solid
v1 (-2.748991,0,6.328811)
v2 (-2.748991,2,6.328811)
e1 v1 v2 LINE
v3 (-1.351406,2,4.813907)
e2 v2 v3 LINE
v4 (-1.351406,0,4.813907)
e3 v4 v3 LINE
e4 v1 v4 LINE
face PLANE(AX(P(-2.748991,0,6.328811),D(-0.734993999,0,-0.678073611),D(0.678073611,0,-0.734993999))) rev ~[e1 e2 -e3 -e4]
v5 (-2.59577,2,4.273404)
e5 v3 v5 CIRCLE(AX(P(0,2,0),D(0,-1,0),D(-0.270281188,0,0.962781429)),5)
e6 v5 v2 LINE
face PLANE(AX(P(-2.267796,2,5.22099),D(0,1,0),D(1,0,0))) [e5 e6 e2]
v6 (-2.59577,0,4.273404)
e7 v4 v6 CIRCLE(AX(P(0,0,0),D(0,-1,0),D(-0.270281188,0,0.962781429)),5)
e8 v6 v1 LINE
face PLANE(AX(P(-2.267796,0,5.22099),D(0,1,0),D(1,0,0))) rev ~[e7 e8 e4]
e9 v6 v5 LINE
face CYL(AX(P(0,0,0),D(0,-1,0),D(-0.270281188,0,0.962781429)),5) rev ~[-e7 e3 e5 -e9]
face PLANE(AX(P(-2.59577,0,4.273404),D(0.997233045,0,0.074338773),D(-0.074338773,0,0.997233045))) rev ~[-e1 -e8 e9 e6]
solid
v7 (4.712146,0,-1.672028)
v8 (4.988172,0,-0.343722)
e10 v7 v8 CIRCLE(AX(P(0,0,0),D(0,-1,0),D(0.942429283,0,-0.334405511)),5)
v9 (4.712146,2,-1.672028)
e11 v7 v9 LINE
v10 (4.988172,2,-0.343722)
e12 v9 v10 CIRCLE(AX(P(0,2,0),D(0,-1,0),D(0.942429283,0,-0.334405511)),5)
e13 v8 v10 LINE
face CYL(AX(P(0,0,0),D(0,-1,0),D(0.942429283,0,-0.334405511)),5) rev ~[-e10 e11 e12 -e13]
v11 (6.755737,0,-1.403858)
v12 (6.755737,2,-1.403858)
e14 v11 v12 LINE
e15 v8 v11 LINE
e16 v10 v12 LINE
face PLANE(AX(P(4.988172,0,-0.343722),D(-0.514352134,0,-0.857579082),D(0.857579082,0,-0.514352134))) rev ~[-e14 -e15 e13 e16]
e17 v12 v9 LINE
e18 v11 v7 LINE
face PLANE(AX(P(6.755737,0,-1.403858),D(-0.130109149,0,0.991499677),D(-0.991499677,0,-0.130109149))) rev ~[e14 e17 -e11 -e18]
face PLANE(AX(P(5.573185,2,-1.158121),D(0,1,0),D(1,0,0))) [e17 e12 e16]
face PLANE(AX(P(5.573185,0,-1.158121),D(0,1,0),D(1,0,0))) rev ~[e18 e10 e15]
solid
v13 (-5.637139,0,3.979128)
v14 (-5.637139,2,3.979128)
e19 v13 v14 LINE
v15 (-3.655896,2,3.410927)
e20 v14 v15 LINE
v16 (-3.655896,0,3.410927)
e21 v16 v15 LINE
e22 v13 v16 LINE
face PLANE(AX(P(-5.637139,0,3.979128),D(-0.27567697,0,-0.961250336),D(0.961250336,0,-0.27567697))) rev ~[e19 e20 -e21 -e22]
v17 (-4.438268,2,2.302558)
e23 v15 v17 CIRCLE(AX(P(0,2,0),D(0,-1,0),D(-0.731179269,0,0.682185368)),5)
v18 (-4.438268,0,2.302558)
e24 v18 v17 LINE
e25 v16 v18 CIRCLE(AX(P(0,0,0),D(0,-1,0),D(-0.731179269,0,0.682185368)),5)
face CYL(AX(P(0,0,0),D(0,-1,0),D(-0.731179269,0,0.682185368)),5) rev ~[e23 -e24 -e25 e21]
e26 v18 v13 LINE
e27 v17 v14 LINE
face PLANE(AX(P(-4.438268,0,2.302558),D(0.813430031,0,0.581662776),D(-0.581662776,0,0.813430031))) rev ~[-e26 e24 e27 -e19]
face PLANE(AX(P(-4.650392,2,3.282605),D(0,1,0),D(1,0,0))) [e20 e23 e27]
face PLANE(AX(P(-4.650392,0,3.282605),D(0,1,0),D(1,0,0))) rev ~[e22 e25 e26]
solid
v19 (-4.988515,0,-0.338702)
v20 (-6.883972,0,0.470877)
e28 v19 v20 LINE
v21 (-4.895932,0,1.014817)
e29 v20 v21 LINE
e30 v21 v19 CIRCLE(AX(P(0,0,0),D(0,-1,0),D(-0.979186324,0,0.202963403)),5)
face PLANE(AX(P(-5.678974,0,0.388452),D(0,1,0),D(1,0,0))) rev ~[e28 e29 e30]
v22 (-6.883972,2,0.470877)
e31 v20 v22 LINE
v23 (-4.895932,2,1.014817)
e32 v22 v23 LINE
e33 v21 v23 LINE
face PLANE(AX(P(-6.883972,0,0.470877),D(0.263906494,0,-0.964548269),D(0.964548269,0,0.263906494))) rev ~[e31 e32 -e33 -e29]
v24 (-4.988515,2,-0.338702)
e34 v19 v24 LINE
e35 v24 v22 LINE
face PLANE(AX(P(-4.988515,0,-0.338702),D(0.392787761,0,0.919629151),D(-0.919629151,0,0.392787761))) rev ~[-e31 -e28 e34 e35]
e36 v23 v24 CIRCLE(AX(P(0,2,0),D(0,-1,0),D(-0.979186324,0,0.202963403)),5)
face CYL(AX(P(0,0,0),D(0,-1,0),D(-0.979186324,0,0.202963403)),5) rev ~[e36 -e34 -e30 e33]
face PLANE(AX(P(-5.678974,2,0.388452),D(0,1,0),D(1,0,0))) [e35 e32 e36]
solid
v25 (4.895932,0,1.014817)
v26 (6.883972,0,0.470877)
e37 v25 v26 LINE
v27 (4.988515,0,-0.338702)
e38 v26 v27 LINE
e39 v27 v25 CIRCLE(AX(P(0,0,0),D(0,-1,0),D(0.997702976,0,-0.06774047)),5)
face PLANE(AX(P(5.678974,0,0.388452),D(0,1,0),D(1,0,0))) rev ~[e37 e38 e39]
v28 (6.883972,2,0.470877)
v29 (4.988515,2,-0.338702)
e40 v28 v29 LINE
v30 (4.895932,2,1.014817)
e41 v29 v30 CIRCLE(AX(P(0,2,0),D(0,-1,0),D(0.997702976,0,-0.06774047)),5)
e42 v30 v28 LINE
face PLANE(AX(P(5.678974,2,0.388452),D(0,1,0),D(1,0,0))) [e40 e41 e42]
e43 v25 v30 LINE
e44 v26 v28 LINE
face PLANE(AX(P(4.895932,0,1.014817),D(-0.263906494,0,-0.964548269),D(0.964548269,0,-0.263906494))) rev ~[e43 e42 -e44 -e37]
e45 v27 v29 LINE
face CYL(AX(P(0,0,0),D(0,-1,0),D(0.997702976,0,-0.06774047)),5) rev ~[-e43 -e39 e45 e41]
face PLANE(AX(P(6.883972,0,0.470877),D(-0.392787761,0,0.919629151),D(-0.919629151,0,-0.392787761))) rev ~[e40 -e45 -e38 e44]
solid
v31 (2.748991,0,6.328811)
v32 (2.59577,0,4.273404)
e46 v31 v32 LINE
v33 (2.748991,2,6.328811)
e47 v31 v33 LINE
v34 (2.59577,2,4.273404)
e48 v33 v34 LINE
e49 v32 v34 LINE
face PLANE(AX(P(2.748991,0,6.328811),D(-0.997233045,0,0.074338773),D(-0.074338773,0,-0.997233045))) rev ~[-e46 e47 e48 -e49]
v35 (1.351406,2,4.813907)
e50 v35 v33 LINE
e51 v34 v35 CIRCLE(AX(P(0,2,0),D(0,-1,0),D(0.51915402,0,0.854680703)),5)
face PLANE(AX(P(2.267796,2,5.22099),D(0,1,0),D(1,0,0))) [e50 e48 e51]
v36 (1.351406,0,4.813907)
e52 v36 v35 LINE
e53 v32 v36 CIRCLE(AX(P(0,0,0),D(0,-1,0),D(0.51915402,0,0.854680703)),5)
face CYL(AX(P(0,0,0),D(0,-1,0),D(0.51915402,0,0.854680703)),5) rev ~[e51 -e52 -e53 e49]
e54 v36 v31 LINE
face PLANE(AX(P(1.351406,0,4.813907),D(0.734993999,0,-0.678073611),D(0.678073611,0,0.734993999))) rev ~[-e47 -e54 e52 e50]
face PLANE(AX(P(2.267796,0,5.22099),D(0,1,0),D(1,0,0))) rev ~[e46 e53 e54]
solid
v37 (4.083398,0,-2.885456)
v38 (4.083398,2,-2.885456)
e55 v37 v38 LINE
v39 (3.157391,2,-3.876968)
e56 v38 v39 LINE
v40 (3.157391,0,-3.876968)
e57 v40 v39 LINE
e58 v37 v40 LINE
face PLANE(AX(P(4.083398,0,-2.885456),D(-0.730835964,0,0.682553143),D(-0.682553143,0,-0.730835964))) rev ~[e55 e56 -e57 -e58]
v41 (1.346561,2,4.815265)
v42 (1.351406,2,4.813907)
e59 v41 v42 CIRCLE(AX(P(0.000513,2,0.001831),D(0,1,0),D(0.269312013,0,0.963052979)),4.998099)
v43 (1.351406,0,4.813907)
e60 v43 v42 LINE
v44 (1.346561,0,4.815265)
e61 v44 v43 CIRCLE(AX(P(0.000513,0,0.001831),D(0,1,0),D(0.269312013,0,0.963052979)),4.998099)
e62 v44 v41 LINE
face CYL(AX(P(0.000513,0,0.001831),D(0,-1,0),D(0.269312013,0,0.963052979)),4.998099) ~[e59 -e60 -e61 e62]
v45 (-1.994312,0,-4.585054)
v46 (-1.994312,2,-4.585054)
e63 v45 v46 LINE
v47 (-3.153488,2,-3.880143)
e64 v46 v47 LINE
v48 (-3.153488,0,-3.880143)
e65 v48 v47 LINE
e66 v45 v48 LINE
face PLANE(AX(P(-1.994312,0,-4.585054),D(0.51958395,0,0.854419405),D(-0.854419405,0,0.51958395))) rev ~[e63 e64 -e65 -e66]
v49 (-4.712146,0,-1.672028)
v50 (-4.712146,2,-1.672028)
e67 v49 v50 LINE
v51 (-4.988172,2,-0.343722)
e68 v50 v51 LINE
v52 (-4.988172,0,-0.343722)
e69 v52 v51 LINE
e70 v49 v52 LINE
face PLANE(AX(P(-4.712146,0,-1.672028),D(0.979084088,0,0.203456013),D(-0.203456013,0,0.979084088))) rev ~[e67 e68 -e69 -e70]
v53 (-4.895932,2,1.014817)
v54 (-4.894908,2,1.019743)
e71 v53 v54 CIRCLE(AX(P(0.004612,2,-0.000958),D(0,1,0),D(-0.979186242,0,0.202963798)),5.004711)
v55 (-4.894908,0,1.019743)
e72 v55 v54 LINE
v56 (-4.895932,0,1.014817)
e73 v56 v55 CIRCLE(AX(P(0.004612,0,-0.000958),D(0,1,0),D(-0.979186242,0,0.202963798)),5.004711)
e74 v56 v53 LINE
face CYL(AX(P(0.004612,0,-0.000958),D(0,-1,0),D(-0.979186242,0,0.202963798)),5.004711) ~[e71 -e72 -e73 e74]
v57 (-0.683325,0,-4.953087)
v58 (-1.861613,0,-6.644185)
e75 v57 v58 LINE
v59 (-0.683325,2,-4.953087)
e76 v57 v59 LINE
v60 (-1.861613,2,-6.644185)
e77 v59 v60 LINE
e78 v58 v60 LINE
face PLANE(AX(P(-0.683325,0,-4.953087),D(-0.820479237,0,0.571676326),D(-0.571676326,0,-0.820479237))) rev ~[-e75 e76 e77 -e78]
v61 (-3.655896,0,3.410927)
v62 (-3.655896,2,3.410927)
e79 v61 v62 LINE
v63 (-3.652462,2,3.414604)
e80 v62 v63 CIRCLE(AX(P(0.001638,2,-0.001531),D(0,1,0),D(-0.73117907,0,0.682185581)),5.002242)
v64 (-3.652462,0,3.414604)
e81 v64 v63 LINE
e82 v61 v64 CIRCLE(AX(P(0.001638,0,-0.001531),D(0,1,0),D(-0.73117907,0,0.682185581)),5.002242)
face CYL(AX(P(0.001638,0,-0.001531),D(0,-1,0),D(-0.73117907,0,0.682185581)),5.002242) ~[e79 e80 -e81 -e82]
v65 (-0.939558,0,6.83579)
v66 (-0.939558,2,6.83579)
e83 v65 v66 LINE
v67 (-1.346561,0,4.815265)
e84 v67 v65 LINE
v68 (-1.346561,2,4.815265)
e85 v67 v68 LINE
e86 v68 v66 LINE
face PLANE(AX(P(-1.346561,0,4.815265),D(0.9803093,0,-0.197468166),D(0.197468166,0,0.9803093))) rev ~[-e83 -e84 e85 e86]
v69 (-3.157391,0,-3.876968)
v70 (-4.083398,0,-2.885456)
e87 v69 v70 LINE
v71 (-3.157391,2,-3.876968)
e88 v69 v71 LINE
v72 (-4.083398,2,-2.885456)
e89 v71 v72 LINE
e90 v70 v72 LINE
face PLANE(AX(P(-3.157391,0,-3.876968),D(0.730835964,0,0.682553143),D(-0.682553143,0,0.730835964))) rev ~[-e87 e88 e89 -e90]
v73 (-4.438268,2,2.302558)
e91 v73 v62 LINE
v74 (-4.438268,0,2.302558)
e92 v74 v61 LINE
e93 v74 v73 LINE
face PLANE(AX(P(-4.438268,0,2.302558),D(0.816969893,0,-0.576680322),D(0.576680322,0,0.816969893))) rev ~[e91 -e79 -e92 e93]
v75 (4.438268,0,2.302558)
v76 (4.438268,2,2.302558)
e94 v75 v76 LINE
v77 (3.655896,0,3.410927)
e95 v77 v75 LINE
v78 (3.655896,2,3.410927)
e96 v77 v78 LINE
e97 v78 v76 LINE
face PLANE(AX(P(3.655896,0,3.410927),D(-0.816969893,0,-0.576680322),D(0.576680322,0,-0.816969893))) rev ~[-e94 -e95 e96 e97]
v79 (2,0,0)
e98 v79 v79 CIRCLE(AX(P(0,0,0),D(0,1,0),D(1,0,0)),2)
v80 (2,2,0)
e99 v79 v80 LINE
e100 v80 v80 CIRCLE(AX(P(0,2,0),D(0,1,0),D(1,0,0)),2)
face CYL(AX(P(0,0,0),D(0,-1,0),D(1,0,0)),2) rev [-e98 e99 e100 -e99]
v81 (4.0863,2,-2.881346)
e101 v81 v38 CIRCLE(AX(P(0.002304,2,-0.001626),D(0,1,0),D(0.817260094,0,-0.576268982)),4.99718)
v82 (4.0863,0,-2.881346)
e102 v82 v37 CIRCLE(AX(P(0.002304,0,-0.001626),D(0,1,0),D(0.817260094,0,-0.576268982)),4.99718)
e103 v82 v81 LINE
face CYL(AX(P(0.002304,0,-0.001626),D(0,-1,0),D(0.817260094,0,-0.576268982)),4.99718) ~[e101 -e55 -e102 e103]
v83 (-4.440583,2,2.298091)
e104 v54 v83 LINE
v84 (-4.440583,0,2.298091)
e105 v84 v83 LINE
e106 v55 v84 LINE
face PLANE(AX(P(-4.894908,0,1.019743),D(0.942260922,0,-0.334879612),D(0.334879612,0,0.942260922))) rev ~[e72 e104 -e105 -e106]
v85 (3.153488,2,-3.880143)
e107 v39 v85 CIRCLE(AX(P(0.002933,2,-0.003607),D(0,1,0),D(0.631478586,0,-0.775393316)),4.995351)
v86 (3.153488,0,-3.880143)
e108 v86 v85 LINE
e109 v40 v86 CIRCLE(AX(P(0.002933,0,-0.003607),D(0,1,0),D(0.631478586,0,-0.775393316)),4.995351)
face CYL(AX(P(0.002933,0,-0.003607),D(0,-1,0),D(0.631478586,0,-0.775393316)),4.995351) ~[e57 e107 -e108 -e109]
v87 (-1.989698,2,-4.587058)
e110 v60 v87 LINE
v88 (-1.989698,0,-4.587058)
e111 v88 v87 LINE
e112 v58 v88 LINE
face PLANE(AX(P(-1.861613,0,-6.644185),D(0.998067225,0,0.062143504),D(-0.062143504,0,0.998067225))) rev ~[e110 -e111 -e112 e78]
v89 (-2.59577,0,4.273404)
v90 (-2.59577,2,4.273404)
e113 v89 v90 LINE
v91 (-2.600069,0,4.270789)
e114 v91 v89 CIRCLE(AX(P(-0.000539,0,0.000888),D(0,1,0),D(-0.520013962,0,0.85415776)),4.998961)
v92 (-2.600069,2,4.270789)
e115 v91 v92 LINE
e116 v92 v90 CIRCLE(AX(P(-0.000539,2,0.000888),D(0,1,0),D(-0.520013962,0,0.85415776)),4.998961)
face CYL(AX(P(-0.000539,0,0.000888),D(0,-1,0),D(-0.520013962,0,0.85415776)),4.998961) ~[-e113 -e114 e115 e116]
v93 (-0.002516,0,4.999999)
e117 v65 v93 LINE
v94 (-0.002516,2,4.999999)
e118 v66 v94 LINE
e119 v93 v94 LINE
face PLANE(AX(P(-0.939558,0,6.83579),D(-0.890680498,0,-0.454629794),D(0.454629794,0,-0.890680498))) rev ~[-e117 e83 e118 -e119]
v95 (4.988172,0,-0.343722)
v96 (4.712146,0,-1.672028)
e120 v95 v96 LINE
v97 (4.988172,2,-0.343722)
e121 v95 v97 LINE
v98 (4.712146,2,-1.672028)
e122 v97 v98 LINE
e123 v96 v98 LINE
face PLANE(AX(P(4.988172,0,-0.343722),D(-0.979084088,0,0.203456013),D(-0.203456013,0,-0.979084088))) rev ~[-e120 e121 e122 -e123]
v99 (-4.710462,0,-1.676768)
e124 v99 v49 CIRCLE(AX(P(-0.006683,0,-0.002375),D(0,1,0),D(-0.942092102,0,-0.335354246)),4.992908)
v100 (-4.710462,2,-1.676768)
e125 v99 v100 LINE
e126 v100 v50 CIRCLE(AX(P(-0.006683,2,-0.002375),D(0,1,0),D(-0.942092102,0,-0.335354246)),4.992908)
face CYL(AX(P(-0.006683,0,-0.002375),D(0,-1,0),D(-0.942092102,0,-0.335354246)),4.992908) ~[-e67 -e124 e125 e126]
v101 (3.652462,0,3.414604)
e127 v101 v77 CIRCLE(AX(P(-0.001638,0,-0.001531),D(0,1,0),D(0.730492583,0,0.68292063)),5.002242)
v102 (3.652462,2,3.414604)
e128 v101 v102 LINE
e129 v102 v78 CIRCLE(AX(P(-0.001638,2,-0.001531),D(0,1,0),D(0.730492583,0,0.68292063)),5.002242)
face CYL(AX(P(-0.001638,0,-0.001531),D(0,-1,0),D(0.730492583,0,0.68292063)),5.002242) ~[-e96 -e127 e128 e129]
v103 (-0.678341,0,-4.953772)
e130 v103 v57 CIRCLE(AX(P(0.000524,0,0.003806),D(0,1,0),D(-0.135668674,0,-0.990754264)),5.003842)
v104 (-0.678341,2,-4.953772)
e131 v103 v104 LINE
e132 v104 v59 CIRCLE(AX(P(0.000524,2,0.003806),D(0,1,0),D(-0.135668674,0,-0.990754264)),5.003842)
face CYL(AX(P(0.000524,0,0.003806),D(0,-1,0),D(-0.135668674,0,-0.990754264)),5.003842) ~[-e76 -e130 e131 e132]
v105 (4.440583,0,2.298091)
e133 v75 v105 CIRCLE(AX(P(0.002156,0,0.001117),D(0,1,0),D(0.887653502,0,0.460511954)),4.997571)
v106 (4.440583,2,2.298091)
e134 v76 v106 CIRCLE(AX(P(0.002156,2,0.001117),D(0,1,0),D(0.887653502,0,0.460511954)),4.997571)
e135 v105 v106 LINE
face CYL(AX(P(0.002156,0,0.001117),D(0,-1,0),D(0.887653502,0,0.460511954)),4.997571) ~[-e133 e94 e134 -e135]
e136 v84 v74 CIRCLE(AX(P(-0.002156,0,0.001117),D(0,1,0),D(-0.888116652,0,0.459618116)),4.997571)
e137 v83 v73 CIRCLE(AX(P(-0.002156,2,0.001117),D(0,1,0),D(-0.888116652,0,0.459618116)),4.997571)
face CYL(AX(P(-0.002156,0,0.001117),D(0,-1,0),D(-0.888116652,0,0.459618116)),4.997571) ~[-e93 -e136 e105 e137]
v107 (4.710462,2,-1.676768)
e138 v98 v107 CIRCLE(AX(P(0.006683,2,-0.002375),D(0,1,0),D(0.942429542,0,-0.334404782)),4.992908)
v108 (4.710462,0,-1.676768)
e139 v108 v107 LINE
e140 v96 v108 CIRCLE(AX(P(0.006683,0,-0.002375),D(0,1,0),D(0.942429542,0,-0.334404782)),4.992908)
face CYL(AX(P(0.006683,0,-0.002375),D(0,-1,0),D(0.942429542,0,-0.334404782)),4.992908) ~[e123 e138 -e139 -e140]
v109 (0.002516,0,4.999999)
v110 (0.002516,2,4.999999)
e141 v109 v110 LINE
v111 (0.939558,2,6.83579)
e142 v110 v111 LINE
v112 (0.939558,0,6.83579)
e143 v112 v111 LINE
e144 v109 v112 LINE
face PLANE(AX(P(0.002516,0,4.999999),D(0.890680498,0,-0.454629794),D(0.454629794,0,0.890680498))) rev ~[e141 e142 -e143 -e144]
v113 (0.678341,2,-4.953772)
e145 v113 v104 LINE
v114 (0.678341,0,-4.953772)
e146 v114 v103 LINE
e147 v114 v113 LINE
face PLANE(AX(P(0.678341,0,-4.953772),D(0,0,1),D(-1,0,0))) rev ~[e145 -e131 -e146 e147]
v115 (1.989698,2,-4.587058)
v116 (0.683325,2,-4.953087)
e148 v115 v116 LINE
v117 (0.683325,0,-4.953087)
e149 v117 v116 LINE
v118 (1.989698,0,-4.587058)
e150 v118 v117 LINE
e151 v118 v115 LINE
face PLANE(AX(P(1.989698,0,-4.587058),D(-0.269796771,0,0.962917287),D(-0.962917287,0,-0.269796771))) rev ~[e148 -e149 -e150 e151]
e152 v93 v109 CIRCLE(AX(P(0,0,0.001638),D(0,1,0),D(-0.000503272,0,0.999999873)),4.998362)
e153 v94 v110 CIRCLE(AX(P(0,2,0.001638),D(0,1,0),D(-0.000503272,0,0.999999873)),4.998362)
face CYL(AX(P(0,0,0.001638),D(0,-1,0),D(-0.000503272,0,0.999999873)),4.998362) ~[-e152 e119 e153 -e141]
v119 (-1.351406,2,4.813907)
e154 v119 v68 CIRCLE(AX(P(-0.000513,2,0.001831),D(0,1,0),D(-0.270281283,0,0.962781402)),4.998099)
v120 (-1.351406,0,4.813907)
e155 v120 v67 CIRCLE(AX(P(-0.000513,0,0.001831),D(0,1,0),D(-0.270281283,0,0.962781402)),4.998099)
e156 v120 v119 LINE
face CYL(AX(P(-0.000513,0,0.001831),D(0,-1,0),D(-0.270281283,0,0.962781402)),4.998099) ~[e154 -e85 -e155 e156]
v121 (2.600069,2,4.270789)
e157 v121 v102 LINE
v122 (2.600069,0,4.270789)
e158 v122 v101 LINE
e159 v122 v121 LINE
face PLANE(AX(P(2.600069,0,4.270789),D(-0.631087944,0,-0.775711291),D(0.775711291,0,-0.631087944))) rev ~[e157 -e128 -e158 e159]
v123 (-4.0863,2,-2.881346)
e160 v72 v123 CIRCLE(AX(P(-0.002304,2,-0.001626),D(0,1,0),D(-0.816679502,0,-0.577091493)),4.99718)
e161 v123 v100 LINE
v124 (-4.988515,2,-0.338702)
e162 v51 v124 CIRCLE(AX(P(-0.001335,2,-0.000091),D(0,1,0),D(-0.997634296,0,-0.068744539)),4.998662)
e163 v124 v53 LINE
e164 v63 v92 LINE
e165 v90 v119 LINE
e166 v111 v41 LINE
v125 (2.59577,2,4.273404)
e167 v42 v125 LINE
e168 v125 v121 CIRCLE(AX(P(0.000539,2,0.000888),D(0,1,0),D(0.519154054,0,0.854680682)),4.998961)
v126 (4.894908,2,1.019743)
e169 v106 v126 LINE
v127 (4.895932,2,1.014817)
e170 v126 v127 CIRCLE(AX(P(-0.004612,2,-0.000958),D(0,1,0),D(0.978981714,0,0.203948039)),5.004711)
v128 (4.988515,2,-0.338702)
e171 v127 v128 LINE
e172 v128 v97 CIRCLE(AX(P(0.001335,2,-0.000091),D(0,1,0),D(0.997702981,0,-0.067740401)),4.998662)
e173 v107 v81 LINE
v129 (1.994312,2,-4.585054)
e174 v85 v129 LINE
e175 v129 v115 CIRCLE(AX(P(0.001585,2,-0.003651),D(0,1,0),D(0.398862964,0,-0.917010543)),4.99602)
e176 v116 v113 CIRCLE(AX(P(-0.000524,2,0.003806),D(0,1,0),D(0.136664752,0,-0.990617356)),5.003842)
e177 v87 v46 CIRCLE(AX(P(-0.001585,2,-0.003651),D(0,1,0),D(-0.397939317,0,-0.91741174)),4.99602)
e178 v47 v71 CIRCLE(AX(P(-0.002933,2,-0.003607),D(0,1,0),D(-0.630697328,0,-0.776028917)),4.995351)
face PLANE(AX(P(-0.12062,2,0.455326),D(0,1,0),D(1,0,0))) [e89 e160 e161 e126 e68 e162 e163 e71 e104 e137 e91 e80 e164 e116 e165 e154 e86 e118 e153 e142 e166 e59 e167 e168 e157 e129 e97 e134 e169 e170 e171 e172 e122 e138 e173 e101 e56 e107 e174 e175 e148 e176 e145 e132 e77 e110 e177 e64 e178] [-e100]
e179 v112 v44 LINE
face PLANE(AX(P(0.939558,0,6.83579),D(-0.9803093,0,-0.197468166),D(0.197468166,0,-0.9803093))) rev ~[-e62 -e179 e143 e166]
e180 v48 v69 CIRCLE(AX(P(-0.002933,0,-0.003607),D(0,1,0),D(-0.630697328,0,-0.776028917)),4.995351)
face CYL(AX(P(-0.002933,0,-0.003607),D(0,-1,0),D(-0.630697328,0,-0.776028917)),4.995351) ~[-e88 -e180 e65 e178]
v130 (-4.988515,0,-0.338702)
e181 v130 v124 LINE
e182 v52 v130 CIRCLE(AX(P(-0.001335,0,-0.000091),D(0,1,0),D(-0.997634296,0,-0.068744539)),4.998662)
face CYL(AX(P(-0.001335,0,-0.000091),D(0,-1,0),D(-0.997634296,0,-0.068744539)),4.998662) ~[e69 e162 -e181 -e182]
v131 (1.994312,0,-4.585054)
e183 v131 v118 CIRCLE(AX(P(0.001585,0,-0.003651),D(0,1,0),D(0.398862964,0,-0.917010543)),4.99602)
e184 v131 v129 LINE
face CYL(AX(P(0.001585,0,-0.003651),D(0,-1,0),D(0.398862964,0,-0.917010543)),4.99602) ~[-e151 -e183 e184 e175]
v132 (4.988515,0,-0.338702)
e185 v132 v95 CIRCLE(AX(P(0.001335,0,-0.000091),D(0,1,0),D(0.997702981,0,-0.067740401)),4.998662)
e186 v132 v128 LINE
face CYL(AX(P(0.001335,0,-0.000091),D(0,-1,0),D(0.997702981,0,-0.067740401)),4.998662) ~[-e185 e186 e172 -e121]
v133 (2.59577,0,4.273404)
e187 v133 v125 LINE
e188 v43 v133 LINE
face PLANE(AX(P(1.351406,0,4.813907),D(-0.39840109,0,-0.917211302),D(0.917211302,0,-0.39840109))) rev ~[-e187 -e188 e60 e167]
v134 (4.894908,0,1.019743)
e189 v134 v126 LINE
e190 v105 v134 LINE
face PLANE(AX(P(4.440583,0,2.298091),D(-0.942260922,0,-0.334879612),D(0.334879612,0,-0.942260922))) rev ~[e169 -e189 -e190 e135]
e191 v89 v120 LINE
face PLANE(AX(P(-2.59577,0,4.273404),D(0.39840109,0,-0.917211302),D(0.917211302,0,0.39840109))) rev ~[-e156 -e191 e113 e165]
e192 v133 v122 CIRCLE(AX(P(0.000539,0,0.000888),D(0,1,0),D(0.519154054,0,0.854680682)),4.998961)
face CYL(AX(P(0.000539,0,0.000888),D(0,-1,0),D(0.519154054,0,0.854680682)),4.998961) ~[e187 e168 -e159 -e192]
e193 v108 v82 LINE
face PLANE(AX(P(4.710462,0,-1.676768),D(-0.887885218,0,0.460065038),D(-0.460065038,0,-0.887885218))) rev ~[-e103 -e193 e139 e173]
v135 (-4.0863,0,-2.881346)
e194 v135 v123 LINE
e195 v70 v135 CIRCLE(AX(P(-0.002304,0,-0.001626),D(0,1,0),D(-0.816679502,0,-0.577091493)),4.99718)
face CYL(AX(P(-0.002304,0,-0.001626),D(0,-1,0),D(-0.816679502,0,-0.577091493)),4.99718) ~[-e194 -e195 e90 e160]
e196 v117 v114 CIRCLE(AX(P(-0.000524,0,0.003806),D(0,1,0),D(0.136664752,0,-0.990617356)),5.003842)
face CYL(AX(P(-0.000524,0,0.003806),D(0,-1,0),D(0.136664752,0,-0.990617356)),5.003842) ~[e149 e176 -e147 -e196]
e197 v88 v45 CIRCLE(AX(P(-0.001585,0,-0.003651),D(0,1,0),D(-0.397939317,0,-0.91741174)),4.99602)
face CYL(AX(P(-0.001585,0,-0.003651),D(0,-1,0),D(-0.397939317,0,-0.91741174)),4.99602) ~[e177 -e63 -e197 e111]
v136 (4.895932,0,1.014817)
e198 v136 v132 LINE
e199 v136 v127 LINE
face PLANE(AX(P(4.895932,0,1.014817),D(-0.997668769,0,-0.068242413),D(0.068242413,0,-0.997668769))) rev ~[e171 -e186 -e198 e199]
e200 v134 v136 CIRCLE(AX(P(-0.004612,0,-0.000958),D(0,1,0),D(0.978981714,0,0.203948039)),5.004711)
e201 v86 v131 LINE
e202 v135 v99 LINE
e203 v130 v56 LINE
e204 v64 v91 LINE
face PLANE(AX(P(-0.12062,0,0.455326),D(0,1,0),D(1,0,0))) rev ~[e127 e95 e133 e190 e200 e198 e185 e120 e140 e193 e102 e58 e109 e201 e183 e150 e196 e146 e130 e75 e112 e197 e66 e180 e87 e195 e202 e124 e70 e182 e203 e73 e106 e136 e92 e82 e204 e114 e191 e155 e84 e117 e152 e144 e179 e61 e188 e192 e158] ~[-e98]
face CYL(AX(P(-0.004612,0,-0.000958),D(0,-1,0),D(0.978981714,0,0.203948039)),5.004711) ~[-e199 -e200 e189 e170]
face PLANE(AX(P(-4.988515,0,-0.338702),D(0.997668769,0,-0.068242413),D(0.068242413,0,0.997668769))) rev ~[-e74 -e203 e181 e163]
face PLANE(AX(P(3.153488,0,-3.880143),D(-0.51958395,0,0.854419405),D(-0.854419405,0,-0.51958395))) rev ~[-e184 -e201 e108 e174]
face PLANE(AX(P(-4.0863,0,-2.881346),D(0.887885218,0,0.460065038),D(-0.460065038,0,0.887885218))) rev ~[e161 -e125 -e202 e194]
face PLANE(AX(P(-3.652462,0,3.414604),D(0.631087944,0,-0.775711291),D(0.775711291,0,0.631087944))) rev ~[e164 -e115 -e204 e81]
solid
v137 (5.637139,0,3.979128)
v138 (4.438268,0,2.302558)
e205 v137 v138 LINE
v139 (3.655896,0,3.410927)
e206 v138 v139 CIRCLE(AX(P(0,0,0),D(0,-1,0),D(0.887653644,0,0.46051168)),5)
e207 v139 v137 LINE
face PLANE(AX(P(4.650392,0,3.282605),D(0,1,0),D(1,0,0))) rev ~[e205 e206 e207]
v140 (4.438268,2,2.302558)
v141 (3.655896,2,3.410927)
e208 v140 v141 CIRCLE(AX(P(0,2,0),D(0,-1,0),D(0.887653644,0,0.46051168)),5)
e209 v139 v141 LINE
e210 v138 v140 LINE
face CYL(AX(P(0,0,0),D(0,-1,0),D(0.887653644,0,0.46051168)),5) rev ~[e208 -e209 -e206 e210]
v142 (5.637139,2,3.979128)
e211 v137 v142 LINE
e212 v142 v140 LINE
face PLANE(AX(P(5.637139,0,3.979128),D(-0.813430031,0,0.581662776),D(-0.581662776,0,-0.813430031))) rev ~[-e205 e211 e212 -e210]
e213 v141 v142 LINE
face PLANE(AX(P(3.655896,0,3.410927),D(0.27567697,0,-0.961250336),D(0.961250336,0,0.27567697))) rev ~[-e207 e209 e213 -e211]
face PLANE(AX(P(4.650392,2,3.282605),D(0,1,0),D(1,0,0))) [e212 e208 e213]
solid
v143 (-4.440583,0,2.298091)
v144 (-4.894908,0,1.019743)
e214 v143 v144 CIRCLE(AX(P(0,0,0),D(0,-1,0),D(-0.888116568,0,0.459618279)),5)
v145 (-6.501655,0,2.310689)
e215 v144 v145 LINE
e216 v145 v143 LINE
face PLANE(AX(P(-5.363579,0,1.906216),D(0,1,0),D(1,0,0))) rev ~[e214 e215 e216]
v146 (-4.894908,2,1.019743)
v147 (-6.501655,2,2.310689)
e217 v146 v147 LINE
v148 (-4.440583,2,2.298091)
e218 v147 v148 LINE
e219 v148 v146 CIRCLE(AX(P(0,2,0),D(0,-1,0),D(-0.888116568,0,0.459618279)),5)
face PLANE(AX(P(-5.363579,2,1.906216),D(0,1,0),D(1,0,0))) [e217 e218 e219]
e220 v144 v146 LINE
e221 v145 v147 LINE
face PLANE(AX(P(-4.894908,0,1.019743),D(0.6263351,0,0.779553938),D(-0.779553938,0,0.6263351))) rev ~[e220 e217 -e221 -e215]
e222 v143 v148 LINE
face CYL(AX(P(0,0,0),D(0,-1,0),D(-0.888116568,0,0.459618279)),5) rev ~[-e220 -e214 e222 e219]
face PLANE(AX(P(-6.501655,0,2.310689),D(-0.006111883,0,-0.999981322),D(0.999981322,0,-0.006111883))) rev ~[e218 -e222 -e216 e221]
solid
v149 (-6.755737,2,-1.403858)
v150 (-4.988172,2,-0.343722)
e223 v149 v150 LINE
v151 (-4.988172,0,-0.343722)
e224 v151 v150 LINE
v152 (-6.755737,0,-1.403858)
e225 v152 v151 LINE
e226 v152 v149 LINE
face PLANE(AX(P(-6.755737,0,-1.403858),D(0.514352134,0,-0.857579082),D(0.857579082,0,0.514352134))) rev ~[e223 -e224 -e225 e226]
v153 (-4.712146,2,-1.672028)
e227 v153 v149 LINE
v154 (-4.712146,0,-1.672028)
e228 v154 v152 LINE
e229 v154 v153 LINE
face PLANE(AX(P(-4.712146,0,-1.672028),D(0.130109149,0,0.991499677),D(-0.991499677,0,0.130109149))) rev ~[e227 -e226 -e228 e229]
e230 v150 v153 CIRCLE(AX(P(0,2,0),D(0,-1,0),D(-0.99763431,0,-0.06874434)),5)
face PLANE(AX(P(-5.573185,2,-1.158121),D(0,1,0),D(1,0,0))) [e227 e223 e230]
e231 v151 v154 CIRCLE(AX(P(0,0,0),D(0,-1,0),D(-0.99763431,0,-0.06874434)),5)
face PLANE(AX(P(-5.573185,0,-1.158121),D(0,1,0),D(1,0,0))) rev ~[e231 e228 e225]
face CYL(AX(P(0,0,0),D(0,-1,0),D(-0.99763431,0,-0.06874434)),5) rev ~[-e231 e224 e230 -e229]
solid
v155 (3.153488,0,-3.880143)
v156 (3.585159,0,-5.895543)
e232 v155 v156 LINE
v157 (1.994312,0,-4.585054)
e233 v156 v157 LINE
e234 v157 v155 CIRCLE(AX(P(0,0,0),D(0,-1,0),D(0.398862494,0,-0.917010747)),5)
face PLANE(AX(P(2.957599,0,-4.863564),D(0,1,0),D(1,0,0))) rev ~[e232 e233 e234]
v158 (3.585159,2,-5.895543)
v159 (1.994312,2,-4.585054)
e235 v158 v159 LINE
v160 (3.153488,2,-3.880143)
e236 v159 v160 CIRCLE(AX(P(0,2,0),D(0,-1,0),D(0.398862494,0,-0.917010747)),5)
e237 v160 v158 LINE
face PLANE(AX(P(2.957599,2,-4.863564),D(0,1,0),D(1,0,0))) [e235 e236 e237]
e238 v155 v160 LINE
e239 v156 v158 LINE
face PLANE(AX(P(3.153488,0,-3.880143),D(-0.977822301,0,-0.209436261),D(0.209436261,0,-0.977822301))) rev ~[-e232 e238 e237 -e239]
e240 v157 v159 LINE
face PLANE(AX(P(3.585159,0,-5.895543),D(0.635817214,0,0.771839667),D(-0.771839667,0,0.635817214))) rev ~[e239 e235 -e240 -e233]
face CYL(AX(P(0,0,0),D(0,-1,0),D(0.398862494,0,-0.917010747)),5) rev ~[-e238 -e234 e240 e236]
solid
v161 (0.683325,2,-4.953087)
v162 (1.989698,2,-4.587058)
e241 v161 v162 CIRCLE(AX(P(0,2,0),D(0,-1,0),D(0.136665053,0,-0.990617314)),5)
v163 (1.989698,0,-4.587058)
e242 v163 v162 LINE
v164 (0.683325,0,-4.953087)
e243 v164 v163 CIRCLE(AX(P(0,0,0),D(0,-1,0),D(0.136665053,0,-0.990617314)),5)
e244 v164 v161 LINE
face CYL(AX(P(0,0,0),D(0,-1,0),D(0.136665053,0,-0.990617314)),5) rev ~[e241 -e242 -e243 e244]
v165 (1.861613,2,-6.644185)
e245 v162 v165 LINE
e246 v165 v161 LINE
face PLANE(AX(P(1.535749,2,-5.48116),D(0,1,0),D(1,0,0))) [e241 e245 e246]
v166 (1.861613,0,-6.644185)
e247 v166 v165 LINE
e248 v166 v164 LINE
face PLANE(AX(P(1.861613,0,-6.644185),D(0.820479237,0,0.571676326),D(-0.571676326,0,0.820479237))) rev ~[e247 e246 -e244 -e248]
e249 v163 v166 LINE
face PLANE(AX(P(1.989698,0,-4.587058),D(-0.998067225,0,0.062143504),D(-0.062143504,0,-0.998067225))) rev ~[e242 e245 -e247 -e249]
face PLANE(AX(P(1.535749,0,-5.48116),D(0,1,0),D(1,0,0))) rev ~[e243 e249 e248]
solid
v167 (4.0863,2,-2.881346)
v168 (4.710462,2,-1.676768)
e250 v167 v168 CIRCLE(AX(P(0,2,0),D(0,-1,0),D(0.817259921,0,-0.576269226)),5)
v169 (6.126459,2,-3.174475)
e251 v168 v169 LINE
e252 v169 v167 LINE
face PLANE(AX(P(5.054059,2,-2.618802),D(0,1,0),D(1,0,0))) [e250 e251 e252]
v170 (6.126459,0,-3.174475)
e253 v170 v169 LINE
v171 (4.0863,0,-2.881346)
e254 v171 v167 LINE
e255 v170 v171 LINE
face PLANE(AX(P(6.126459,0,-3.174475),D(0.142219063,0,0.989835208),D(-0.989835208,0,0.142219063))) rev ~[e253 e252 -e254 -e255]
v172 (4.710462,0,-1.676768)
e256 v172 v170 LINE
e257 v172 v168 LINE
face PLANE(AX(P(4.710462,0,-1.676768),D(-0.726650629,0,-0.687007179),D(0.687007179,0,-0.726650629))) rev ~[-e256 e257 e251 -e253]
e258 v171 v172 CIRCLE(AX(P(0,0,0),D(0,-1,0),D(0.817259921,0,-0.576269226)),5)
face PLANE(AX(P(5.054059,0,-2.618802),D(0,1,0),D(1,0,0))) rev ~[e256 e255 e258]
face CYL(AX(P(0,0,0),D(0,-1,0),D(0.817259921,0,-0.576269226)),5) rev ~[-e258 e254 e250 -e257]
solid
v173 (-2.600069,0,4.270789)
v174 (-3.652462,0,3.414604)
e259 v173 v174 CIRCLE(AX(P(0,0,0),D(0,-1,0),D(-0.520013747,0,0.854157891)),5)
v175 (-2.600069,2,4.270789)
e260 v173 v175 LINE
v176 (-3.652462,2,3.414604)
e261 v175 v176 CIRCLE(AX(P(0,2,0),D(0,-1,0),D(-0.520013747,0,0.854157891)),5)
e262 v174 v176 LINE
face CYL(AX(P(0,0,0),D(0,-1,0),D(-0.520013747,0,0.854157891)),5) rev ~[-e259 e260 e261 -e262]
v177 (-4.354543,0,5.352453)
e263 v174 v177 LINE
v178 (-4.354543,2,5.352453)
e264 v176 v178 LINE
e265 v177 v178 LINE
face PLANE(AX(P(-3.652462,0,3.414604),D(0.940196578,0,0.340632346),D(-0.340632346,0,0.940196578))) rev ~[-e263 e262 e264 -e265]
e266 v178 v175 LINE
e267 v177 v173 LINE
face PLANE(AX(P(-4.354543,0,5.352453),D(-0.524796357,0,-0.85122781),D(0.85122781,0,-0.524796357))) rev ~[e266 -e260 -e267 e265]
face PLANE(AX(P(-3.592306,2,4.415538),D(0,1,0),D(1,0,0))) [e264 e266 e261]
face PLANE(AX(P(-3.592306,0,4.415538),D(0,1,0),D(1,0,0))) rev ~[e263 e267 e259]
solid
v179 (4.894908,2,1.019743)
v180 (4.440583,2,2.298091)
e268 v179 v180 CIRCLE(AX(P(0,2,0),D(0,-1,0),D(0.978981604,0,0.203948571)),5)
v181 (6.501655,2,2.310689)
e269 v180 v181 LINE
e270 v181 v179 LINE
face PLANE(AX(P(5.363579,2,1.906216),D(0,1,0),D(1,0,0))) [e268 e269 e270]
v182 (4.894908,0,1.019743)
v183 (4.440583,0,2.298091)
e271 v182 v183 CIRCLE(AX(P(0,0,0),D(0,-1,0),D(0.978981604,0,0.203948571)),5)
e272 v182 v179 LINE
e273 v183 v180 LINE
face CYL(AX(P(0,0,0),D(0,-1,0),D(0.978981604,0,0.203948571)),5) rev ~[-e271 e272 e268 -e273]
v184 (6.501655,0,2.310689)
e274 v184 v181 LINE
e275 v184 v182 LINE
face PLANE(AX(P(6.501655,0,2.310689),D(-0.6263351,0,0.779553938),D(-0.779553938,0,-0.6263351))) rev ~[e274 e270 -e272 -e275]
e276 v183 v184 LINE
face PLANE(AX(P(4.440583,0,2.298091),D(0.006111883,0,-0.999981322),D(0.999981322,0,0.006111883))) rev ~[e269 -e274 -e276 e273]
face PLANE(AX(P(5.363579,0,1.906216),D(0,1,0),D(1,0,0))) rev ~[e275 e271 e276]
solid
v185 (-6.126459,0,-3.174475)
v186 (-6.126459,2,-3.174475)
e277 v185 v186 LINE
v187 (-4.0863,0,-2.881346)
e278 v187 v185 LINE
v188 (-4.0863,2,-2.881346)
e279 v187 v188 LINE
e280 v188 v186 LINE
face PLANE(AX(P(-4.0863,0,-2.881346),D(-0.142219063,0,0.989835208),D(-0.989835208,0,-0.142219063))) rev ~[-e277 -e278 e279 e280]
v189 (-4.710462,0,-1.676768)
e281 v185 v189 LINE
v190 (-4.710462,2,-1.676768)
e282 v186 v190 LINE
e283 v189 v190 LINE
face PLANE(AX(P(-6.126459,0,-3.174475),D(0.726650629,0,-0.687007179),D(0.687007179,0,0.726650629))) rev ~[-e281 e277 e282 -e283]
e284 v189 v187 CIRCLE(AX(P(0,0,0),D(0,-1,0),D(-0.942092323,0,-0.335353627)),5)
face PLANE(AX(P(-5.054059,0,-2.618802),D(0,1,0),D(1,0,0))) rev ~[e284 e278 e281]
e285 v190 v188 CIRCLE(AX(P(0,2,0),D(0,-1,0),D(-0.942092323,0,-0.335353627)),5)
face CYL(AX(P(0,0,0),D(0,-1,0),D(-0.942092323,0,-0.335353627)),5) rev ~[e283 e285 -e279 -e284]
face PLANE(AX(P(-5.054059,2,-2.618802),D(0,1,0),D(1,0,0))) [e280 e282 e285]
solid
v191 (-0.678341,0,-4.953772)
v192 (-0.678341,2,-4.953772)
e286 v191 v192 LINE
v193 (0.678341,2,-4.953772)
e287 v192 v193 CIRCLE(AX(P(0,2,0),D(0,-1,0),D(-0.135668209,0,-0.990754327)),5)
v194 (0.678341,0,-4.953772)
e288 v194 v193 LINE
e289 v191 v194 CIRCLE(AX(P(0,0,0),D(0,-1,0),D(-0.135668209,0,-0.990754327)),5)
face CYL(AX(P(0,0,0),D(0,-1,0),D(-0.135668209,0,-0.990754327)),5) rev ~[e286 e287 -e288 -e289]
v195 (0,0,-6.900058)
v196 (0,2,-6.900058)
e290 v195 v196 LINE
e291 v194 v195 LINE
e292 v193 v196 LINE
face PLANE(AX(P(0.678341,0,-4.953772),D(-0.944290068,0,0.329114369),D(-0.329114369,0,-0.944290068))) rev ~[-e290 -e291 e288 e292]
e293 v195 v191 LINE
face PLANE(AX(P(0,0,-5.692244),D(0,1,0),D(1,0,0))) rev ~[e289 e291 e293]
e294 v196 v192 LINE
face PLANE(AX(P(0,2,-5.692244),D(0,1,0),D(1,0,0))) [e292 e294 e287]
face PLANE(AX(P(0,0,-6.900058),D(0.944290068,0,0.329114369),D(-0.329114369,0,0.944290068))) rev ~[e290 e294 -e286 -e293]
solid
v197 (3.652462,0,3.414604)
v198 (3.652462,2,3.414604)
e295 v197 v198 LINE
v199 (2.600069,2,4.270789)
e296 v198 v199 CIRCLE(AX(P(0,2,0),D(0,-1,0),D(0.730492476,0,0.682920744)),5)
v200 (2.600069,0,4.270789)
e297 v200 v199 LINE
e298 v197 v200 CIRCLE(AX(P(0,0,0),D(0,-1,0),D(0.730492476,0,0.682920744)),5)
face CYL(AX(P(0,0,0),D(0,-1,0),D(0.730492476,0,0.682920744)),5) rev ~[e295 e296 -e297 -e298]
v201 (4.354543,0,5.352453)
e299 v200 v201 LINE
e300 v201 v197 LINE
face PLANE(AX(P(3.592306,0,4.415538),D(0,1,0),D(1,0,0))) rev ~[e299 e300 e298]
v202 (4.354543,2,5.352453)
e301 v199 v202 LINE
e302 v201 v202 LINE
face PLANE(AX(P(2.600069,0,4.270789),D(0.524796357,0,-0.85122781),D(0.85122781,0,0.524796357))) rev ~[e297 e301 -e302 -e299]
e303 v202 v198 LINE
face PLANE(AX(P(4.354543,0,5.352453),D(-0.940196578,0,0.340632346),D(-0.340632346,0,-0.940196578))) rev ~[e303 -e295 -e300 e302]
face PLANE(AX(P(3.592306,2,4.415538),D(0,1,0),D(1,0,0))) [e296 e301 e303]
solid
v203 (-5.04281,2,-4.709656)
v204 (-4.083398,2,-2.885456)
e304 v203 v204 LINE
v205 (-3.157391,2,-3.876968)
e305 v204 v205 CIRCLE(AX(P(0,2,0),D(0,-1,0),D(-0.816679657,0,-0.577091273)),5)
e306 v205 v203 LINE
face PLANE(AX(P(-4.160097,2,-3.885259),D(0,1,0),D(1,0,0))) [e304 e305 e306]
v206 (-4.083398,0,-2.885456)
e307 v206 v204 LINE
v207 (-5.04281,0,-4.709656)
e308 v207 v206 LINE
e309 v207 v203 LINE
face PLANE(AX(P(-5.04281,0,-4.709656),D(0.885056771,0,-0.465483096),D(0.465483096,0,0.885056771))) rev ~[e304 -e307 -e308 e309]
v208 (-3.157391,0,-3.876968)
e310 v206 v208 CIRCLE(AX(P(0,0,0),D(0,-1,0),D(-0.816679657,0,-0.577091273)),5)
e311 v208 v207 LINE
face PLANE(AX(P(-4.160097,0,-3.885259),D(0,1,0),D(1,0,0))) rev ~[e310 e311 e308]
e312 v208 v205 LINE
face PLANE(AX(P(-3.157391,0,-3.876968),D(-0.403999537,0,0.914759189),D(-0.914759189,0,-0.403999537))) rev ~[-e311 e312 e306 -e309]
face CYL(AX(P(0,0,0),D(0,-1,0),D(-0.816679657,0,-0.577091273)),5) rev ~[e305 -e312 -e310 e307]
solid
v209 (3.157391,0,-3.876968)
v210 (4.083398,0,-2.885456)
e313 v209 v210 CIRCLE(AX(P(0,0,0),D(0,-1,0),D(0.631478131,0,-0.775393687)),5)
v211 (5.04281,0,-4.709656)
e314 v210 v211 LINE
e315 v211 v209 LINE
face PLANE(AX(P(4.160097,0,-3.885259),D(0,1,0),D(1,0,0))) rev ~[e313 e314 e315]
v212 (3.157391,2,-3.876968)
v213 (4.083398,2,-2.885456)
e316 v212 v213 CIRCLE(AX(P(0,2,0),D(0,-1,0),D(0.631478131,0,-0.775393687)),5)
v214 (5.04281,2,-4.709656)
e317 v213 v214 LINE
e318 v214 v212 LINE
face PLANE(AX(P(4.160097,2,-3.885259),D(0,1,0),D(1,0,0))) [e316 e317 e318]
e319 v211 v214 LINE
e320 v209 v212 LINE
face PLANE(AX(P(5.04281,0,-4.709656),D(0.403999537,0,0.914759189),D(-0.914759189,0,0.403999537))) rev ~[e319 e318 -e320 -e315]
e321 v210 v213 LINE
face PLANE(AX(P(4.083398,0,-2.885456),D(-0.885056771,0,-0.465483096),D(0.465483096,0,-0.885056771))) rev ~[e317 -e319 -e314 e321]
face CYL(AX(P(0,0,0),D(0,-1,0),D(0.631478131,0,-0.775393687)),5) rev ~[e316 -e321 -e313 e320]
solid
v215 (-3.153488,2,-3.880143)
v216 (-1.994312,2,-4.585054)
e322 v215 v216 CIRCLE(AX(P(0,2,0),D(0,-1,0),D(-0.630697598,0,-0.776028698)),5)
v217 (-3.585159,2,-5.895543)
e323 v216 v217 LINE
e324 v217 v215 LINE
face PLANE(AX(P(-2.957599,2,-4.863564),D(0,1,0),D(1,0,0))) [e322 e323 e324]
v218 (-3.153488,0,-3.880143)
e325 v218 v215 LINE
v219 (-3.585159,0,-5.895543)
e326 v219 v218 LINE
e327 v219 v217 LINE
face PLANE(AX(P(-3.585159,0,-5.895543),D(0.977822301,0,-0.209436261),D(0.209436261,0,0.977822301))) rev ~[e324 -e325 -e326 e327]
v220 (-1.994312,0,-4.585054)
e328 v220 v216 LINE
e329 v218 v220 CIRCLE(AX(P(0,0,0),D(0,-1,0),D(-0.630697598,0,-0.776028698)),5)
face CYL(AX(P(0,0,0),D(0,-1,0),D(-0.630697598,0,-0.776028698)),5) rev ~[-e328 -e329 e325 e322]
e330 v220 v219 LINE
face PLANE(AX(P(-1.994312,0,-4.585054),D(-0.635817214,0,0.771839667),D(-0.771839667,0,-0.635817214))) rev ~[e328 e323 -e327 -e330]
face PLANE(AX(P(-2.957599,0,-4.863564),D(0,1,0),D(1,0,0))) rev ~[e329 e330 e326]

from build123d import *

# Parameters (mm, degrees)
BOSS_EXTRUDE1_DEPTH    = 2
SKETCH1_R              = 2
BOSS_EXTRUDE1_2_DEPTH  = 2
BOSS_EXTRUDE1_3_DEPTH  = 2
BOSS_EXTRUDE1_4_DEPTH  = 2
BOSS_EXTRUDE1_5_DEPTH  = 2
BOSS_EXTRUDE1_6_DEPTH  = 2
BOSS_EXTRUDE1_7_DEPTH  = 2
BOSS_EXTRUDE1_8_DEPTH  = 2
BOSS_EXTRUDE1_9_DEPTH  = 2
BOSS_EXTRUDE1_10_DEPTH = 2
BOSS_EXTRUDE1_11_DEPTH = 2
BOSS_EXTRUDE1_12_DEPTH = 2
BOSS_EXTRUDE1_13_DEPTH = 2
BOSS_EXTRUDE1_14_DEPTH = 2
BOSS_EXTRUDE1_15_DEPTH = 2
BOSS_EXTRUDE1_16_DEPTH = 2
BOSS_EXTRUDE1_17_DEPTH = 2
BOSS_EXTRUDE1_18_DEPTH = 2
BOSS_EXTRUDE1_19_DEPTH = 2
BOSS_EXTRUDE1_20_DEPTH = 2
BOSS_EXTRUDE1_21_DEPTH = 2


with BuildPart() as part:
    # Sketch1 → Boss-Extrude1 (new body)
    with BuildSketch(Plane(origin=(0, 0, 0), x_dir=(1, 0, 0), z_dir=(0, 1, 0))):
        with BuildLine():
            ThreePointArc((-0.678341052, 4.953771636), (0, 5), (0.678341052, 4.953771636))
            Line((0.678341052, 4.953771636), (0, 6.900057726))
            Line((0, 6.900057726), (-0.678341052, 4.953771636))
        make_face()
    extrude(amount=BOSS_EXTRUDE1_DEPTH)


with BuildPart() as body_2:
    # Sketch1 → Boss-Extrude1 2 (new body)
    with BuildSketch(Plane(origin=(0, 0, 0), x_dir=(1, 0, 0), z_dir=(0, 1, 0))):
        with BuildLine():
            ThreePointArc((0.683325267, 4.953086571), (0.680833245, 4.95342973), (0.678341052, 4.953771636))
            Line((0.678341052, 4.953771636), (-0.678341052, 4.953771636))
            ThreePointArc((-0.678341052, 4.953771636), (-0.680833245, 4.95342973), (-0.683325267, 4.953086571))
            Line((-0.683325267, 4.953086571), (-1.861613295, 6.644184868))
            Line((-1.861613295, 6.644184868), (-1.989697918, 4.58705812))
            ThreePointArc((-1.989697918, 4.58705812), (-1.992005449, 4.586056508), (-1.994312476, 4.585053734))
            Line((-1.994312476, 4.585053734), (-3.153487992, 3.880143488))
            ThreePointArc((-3.153487992, 3.880143488), (-3.155439722, 3.878556454), (-3.157390653, 3.876968437))
            Line((-3.157390653, 3.876968437), (-4.083398287, 2.885456364))
            ThreePointArc((-4.083398287, 2.885456364), (-4.084849465, 2.883401611), (-4.086299609, 2.881346127))
            Line((-4.086299609, 2.881346127), (-4.710461612, 1.676768141))
            ThreePointArc((-4.710461612, 1.676768141), (-4.711304611, 1.674398061), (-4.712146416, 1.672027556))
            Line((-4.712146416, 1.672027556), (-4.988171548, 0.343721697))
            ThreePointArc((-4.988171548, 0.343721697), (-4.988343846, 0.341212067), (-4.988514881, 0.338702351))
            Line((-4.988514881, 0.338702351), (-4.89593162, -1.014817014))
            ThreePointArc((-4.89593162, -1.014817014), (-4.895420438, -1.017280065), (-4.894908018, -1.019742859))
            Line((-4.894908018, -1.019742859), (-4.440582841, -2.298091389))
            ThreePointArc((-4.440582841, -2.298091389), (-4.439426092, -2.300325189), (-4.438268219, -2.302558406))
            Line((-4.438268219, -2.302558406), (-3.655896347, -3.410926839))
            ThreePointArc((-3.655896347, -3.410926839), (-3.654179821, -3.412765716), (-3.652462371, -3.414603729))
            Line((-3.652462371, -3.414603729), (-2.600068745, -4.270789449))
            ThreePointArc((-2.600068745, -4.270789449), (-2.59791975, -4.272097023), (-2.595770098, -4.273403515))
            Line((-2.595770098, -4.273403515), (-1.351405939, -4.813907144))
            ThreePointArc((-1.351405939, -4.813907144), (-1.348983856, -4.814586437), (-1.346561431, -4.815264511))
            Line((-1.346561431, -4.815264511), (-0.939557739, -6.835790216))
            Line((-0.939557739, -6.835790216), (-0.002515537, -4.999999367))
            ThreePointArc((-0.002515537, -4.999999367), (0, -5), (0.002515537, -4.999999367))
            Line((0.002515537, -4.999999367), (0.939557739, -6.835790216))
            Line((0.939557739, -6.835790216), (1.346561431, -4.815264511))
            ThreePointArc((1.346561431, -4.815264511), (1.348983856, -4.814586437), (1.351405939, -4.813907144))
            Line((1.351405939, -4.813907144), (2.595770098, -4.273403515))
            ThreePointArc((2.595770098, -4.273403515), (2.59791975, -4.272097023), (2.600068745, -4.270789449))
            Line((2.600068745, -4.270789449), (3.652462371, -3.414603729))
            ThreePointArc((3.652462371, -3.414603729), (3.654179821, -3.412765716), (3.655896347, -3.410926839))
            Line((3.655896347, -3.410926839), (4.438268219, -2.302558406))
            ThreePointArc((4.438268219, -2.302558406), (4.439426092, -2.300325189), (4.440582841, -2.298091389))
            Line((4.440582841, -2.298091389), (4.894908018, -1.019742859))
            ThreePointArc((4.894908018, -1.019742859), (4.895420438, -1.017280065), (4.89593162, -1.014817014))
            Line((4.89593162, -1.014817014), (4.988514881, 0.338702351))
            ThreePointArc((4.988514881, 0.338702351), (4.988343846, 0.341212067), (4.988171548, 0.343721697))
            Line((4.988171548, 0.343721697), (4.712146416, 1.672027556))
            ThreePointArc((4.712146416, 1.672027556), (4.711304611, 1.674398061), (4.710461612, 1.676768141))
            Line((4.710461612, 1.676768141), (4.086299609, 2.881346127))
            ThreePointArc((4.086299609, 2.881346127), (4.084849465, 2.883401611), (4.083398287, 2.885456364))
            Line((4.083398287, 2.885456364), (3.157390653, 3.876968437))
            ThreePointArc((3.157390653, 3.876968437), (3.155439722, 3.878556454), (3.153487992, 3.880143488))
            Line((3.153487992, 3.880143488), (1.994312476, 4.585053734))
            ThreePointArc((1.994312476, 4.585053734), (1.992005449, 4.586056508), (1.989697918, 4.58705812))
            Line((1.989697918, 4.58705812), (0.683325267, 4.953086571))
        make_face()
        Circle(SKETCH1_R, mode=Mode.SUBTRACT)
    extrude(amount=BOSS_EXTRUDE1_2_DEPTH)


with BuildPart() as body_3:
    # Sketch1 → Boss-Extrude1 3 (new body)
    with BuildSketch(Plane(origin=(0, 0, 0), x_dir=(1, 0, 0), z_dir=(0, 1, 0))):
        with BuildLine():
            Line((1.861613295, 6.644184868), (0.683325267, 4.953086571))
            ThreePointArc((0.683325267, 4.953086571), (1.348983856, 4.814586437), (1.989697918, 4.58705812))
            Line((1.989697918, 4.58705812), (1.861613295, 6.644184868))
        make_face()
    extrude(amount=BOSS_EXTRUDE1_3_DEPTH)


with BuildPart() as body_4:
    # Sketch1 → Boss-Extrude1 4 (new body)
    with BuildSketch(Plane(origin=(0, 0, 0), x_dir=(1, 0, 0), z_dir=(0, 1, 0))):
        with BuildLine():
            Line((3.585159249, 5.895543213), (1.994312476, 4.585053734))
            ThreePointArc((1.994312476, 4.585053734), (2.59791975, 4.272097023), (3.153487992, 3.880143488))
            Line((3.153487992, 3.880143488), (3.585159249, 5.895543213))
        make_face()
    extrude(amount=BOSS_EXTRUDE1_4_DEPTH)


with BuildPart() as body_5:
    # Sketch1 → Boss-Extrude1 5 (new body)
    with BuildSketch(Plane(origin=(0, 0, 0), x_dir=(1, 0, 0), z_dir=(0, 1, 0))):
        with BuildLine():
            ThreePointArc((-3.153487992, 3.880143488), (-2.59791975, 4.272097023), (-1.994312476, 4.585053734))
            Line((-1.994312476, 4.585053734), (-3.585159249, 5.895543213))
            Line((-3.585159249, 5.895543213), (-3.153487992, 3.880143488))
        make_face()
    extrude(amount=BOSS_EXTRUDE1_5_DEPTH)


with BuildPart() as body_6:
    # Sketch1 → Boss-Extrude1 6 (new body)
    with BuildSketch(Plane(origin=(0, 0, 0), x_dir=(1, 0, 0), z_dir=(0, 1, 0))):
        with BuildLine():
            Line((5.042810342, 4.709656089), (3.157390653, 3.876968437))
            ThreePointArc((3.157390653, 3.876968437), (3.654179821, 3.412765716), (4.083398287, 2.885456364))
            Line((4.083398287, 2.885456364), (5.042810342, 4.709656089))
        make_face()
    extrude(amount=BOSS_EXTRUDE1_6_DEPTH)


with BuildPart() as body_7:
    # Sketch1 → Boss-Extrude1 7 (new body)
    with BuildSketch(Plane(origin=(0, 0, 0), x_dir=(1, 0, 0), z_dir=(0, 1, 0))):
        with BuildLine():
            ThreePointArc((-4.083398287, 2.885456364), (-3.654179821, 3.412765716), (-3.157390653, 3.876968437))
            Line((-3.157390653, 3.876968437), (-5.042810342, 4.709656089))
            Line((-5.042810342, 4.709656089), (-4.083398287, 2.885456364))
        make_face()
    extrude(amount=BOSS_EXTRUDE1_7_DEPTH)


with BuildPart() as body_8:
    # Sketch1 → Boss-Extrude1 8 (new body)
    with BuildSketch(Plane(origin=(0, 0, 0), x_dir=(1, 0, 0), z_dir=(0, 1, 0))):
        with BuildLine():
            Line((6.126459261, 3.174475318), (4.086299609, 2.881346127))
            ThreePointArc((4.086299609, 2.881346127), (4.439426092, 2.300325189), (4.710461612, 1.676768141))
            Line((4.710461612, 1.676768141), (6.126459261, 3.174475318))
        make_face()
    extrude(amount=BOSS_EXTRUDE1_8_DEPTH)


with BuildPart() as body_9:
    # Sketch1 → Boss-Extrude1 9 (new body)
    with BuildSketch(Plane(origin=(0, 0, 0), x_dir=(1, 0, 0), z_dir=(0, 1, 0))):
        with BuildLine():
            ThreePointArc((-4.710461612, 1.676768141), (-4.439426092, 2.300325189), (-4.086299609, 2.881346127))
            Line((-4.086299609, 2.881346127), (-6.126459261, 3.174475318))
            Line((-6.126459261, 3.174475318), (-4.710461612, 1.676768141))
        make_face()
    extrude(amount=BOSS_EXTRUDE1_9_DEPTH)


with BuildPart() as body_10:
    # Sketch1 → Boss-Extrude1 10 (new body)
    with BuildSketch(Plane(origin=(0, 0, 0), x_dir=(1, 0, 0), z_dir=(0, 1, 0))):
        with BuildLine():
            Line((6.755736723, 1.403858235), (4.712146416, 1.672027556))
            ThreePointArc((4.712146416, 1.672027556), (4.895420438, 1.017280065), (4.988171548, 0.343721697))
            Line((4.988171548, 0.343721697), (6.755736723, 1.403858235))
        make_face()
    extrude(amount=BOSS_EXTRUDE1_10_DEPTH)


with BuildPart() as body_11:
    # Sketch1 → Boss-Extrude1 11 (new body)
    with BuildSketch(Plane(origin=(0, 0, 0), x_dir=(1, 0, 0), z_dir=(0, 1, 0))):
        with BuildLine():
            ThreePointArc((-4.988171548, 0.343721697), (-4.895420438, 1.017280065), (-4.712146416, 1.672027556))
            Line((-4.712146416, 1.672027556), (-6.755736723, 1.403858235))
            Line((-6.755736723, 1.403858235), (-4.988171548, 0.343721697))
        make_face()
    extrude(amount=BOSS_EXTRUDE1_11_DEPTH)


with BuildPart() as body_12:
    # Sketch1 → Boss-Extrude1 12 (new body)
    with BuildSketch(Plane(origin=(0, 0, 0), x_dir=(1, 0, 0), z_dir=(0, 1, 0))):
        with BuildLine():
            Line((6.883972099, -0.470876592), (4.988514881, 0.338702351))
            ThreePointArc((4.988514881, 0.338702351), (4.988343846, -0.341212067), (4.89593162, -1.014817014))
            Line((4.89593162, -1.014817014), (6.883972099, -0.470876592))
        make_face()
    extrude(amount=BOSS_EXTRUDE1_12_DEPTH)


with BuildPart() as body_13:
    # Sketch1 → Boss-Extrude1 13 (new body)
    with BuildSketch(Plane(origin=(0, 0, 0), x_dir=(1, 0, 0), z_dir=(0, 1, 0))):
        with BuildLine():
            ThreePointArc((-4.89593162, -1.014817014), (-4.988343846, -0.341212067), (-4.988514881, 0.338702351))
            Line((-4.988514881, 0.338702351), (-6.883972099, -0.470876592))
            Line((-6.883972099, -0.470876592), (-4.89593162, -1.014817014))
        make_face()
    extrude(amount=BOSS_EXTRUDE1_13_DEPTH)


with BuildPart() as body_14:
    # Sketch1 → Boss-Extrude1 14 (new body)
    with BuildSketch(Plane(origin=(0, 0, 0), x_dir=(1, 0, 0), z_dir=(0, 1, 0))):
        with BuildLine():
            Line((6.501654755, -2.310688655), (4.894908018, -1.019742859))
            ThreePointArc((4.894908018, -1.019742859), (4.711304611, -1.674398061), (4.440582841, -2.298091389))
            Line((4.440582841, -2.298091389), (6.501654755, -2.310688655))
        make_face()
    extrude(amount=BOSS_EXTRUDE1_14_DEPTH)


with BuildPart() as body_15:
    # Sketch1 → Boss-Extrude1 15 (new body)
    with BuildSketch(Plane(origin=(0, 0, 0), x_dir=(1, 0, 0), z_dir=(0, 1, 0))):
        with BuildLine():
            ThreePointArc((-4.440582841, -2.298091389), (-4.711304611, -1.674398061), (-4.894908018, -1.019742859))
            Line((-4.894908018, -1.019742859), (-6.501654755, -2.310688655))
            Line((-6.501654755, -2.310688655), (-4.440582841, -2.298091389))
        make_face()
    extrude(amount=BOSS_EXTRUDE1_15_DEPTH)


with BuildPart() as body_16:
    # Sketch1 → Boss-Extrude1 16 (new body)
    with BuildSketch(Plane(origin=(0, 0, 0), x_dir=(1, 0, 0), z_dir=(0, 1, 0))):
        with BuildLine():
            Line((5.637139422, -3.979127512), (4.438268219, -2.302558406))
            ThreePointArc((4.438268219, -2.302558406), (4.084849465, -2.883401611), (3.655896347, -3.410926839))
            Line((3.655896347, -3.410926839), (5.637139422, -3.979127512))
        make_face()
    extrude(amount=BOSS_EXTRUDE1_16_DEPTH)


with BuildPart() as body_17:
    # Sketch1 → Boss-Extrude1 17 (new body)
    with BuildSketch(Plane(origin=(0, 0, 0), x_dir=(1, 0, 0), z_dir=(0, 1, 0))):
        with BuildLine():
            ThreePointArc((-3.655896347, -3.410926839), (-4.084849465, -2.883401611), (-4.438268219, -2.302558406))
            Line((-4.438268219, -2.302558406), (-5.637139422, -3.979127512))
            Line((-5.637139422, -3.979127512), (-3.655896347, -3.410926839))
        make_face()
    extrude(amount=BOSS_EXTRUDE1_17_DEPTH)


with BuildPart() as body_18:
    # Sketch1 → Boss-Extrude1 18 (new body)
    with BuildSketch(Plane(origin=(0, 0, 0), x_dir=(1, 0, 0), z_dir=(0, 1, 0))):
        with BuildLine():
            Line((4.354543246, -5.352452684), (3.652462371, -3.414603729))
            ThreePointArc((3.652462371, -3.414603729), (3.155439722, -3.878556454), (2.600068745, -4.270789449))
            Line((2.600068745, -4.270789449), (4.354543246, -5.352452684))
        make_face()
    extrude(amount=BOSS_EXTRUDE1_18_DEPTH)


with BuildPart() as body_19:
    # Sketch1 → Boss-Extrude1 19 (new body)
    with BuildSketch(Plane(origin=(0, 0, 0), x_dir=(1, 0, 0), z_dir=(0, 1, 0))):
        with BuildLine():
            ThreePointArc((-2.600068745, -4.270789449), (-3.155439722, -3.878556454), (-3.652462371, -3.414603729))
            Line((-3.652462371, -3.414603729), (-4.354543246, -5.352452684))
            Line((-4.354543246, -5.352452684), (-2.600068745, -4.270789449))
        make_face()
    extrude(amount=BOSS_EXTRUDE1_19_DEPTH)


with BuildPart() as body_20:
    # Sketch1 → Boss-Extrude1 20 (new body)
    with BuildSketch(Plane(origin=(0, 0, 0), x_dir=(1, 0, 0), z_dir=(0, 1, 0))):
        with BuildLine():
            Line((2.748990518, -6.328810927), (2.595770098, -4.273403515))
            ThreePointArc((2.595770098, -4.273403515), (1.992005449, -4.586056508), (1.351405939, -4.813907144))
            Line((1.351405939, -4.813907144), (2.748990518, -6.328810927))
        make_face()
    extrude(amount=BOSS_EXTRUDE1_20_DEPTH)


with BuildPart() as body_21:
    # Sketch1 → Boss-Extrude1 21 (new body)
    with BuildSketch(Plane(origin=(0, 0, 0), x_dir=(1, 0, 0), z_dir=(0, 1, 0))):
        with BuildLine():
            ThreePointArc((-1.351405939, -4.813907144), (-1.992005449, -4.586056508), (-2.595770098, -4.273403515))
            Line((-2.595770098, -4.273403515), (-2.748990518, -6.328810927))
            Line((-2.748990518, -6.328810927), (-1.351405939, -4.813907144))
        make_face()
    extrude(amount=BOSS_EXTRUDE1_21_DEPTH)


solid = Compound([part.part, body_2.part, body_3.part, body_4.part, body_5.part, body_6.part, body_7.part, body_8.part, body_9.part, body_10.part, body_11.part, body_12.part, body_13.part, body_14.part, body_15.part, body_16.part, body_17.part, body_18.part, body_19.part, body_20.part, body_21.part])
